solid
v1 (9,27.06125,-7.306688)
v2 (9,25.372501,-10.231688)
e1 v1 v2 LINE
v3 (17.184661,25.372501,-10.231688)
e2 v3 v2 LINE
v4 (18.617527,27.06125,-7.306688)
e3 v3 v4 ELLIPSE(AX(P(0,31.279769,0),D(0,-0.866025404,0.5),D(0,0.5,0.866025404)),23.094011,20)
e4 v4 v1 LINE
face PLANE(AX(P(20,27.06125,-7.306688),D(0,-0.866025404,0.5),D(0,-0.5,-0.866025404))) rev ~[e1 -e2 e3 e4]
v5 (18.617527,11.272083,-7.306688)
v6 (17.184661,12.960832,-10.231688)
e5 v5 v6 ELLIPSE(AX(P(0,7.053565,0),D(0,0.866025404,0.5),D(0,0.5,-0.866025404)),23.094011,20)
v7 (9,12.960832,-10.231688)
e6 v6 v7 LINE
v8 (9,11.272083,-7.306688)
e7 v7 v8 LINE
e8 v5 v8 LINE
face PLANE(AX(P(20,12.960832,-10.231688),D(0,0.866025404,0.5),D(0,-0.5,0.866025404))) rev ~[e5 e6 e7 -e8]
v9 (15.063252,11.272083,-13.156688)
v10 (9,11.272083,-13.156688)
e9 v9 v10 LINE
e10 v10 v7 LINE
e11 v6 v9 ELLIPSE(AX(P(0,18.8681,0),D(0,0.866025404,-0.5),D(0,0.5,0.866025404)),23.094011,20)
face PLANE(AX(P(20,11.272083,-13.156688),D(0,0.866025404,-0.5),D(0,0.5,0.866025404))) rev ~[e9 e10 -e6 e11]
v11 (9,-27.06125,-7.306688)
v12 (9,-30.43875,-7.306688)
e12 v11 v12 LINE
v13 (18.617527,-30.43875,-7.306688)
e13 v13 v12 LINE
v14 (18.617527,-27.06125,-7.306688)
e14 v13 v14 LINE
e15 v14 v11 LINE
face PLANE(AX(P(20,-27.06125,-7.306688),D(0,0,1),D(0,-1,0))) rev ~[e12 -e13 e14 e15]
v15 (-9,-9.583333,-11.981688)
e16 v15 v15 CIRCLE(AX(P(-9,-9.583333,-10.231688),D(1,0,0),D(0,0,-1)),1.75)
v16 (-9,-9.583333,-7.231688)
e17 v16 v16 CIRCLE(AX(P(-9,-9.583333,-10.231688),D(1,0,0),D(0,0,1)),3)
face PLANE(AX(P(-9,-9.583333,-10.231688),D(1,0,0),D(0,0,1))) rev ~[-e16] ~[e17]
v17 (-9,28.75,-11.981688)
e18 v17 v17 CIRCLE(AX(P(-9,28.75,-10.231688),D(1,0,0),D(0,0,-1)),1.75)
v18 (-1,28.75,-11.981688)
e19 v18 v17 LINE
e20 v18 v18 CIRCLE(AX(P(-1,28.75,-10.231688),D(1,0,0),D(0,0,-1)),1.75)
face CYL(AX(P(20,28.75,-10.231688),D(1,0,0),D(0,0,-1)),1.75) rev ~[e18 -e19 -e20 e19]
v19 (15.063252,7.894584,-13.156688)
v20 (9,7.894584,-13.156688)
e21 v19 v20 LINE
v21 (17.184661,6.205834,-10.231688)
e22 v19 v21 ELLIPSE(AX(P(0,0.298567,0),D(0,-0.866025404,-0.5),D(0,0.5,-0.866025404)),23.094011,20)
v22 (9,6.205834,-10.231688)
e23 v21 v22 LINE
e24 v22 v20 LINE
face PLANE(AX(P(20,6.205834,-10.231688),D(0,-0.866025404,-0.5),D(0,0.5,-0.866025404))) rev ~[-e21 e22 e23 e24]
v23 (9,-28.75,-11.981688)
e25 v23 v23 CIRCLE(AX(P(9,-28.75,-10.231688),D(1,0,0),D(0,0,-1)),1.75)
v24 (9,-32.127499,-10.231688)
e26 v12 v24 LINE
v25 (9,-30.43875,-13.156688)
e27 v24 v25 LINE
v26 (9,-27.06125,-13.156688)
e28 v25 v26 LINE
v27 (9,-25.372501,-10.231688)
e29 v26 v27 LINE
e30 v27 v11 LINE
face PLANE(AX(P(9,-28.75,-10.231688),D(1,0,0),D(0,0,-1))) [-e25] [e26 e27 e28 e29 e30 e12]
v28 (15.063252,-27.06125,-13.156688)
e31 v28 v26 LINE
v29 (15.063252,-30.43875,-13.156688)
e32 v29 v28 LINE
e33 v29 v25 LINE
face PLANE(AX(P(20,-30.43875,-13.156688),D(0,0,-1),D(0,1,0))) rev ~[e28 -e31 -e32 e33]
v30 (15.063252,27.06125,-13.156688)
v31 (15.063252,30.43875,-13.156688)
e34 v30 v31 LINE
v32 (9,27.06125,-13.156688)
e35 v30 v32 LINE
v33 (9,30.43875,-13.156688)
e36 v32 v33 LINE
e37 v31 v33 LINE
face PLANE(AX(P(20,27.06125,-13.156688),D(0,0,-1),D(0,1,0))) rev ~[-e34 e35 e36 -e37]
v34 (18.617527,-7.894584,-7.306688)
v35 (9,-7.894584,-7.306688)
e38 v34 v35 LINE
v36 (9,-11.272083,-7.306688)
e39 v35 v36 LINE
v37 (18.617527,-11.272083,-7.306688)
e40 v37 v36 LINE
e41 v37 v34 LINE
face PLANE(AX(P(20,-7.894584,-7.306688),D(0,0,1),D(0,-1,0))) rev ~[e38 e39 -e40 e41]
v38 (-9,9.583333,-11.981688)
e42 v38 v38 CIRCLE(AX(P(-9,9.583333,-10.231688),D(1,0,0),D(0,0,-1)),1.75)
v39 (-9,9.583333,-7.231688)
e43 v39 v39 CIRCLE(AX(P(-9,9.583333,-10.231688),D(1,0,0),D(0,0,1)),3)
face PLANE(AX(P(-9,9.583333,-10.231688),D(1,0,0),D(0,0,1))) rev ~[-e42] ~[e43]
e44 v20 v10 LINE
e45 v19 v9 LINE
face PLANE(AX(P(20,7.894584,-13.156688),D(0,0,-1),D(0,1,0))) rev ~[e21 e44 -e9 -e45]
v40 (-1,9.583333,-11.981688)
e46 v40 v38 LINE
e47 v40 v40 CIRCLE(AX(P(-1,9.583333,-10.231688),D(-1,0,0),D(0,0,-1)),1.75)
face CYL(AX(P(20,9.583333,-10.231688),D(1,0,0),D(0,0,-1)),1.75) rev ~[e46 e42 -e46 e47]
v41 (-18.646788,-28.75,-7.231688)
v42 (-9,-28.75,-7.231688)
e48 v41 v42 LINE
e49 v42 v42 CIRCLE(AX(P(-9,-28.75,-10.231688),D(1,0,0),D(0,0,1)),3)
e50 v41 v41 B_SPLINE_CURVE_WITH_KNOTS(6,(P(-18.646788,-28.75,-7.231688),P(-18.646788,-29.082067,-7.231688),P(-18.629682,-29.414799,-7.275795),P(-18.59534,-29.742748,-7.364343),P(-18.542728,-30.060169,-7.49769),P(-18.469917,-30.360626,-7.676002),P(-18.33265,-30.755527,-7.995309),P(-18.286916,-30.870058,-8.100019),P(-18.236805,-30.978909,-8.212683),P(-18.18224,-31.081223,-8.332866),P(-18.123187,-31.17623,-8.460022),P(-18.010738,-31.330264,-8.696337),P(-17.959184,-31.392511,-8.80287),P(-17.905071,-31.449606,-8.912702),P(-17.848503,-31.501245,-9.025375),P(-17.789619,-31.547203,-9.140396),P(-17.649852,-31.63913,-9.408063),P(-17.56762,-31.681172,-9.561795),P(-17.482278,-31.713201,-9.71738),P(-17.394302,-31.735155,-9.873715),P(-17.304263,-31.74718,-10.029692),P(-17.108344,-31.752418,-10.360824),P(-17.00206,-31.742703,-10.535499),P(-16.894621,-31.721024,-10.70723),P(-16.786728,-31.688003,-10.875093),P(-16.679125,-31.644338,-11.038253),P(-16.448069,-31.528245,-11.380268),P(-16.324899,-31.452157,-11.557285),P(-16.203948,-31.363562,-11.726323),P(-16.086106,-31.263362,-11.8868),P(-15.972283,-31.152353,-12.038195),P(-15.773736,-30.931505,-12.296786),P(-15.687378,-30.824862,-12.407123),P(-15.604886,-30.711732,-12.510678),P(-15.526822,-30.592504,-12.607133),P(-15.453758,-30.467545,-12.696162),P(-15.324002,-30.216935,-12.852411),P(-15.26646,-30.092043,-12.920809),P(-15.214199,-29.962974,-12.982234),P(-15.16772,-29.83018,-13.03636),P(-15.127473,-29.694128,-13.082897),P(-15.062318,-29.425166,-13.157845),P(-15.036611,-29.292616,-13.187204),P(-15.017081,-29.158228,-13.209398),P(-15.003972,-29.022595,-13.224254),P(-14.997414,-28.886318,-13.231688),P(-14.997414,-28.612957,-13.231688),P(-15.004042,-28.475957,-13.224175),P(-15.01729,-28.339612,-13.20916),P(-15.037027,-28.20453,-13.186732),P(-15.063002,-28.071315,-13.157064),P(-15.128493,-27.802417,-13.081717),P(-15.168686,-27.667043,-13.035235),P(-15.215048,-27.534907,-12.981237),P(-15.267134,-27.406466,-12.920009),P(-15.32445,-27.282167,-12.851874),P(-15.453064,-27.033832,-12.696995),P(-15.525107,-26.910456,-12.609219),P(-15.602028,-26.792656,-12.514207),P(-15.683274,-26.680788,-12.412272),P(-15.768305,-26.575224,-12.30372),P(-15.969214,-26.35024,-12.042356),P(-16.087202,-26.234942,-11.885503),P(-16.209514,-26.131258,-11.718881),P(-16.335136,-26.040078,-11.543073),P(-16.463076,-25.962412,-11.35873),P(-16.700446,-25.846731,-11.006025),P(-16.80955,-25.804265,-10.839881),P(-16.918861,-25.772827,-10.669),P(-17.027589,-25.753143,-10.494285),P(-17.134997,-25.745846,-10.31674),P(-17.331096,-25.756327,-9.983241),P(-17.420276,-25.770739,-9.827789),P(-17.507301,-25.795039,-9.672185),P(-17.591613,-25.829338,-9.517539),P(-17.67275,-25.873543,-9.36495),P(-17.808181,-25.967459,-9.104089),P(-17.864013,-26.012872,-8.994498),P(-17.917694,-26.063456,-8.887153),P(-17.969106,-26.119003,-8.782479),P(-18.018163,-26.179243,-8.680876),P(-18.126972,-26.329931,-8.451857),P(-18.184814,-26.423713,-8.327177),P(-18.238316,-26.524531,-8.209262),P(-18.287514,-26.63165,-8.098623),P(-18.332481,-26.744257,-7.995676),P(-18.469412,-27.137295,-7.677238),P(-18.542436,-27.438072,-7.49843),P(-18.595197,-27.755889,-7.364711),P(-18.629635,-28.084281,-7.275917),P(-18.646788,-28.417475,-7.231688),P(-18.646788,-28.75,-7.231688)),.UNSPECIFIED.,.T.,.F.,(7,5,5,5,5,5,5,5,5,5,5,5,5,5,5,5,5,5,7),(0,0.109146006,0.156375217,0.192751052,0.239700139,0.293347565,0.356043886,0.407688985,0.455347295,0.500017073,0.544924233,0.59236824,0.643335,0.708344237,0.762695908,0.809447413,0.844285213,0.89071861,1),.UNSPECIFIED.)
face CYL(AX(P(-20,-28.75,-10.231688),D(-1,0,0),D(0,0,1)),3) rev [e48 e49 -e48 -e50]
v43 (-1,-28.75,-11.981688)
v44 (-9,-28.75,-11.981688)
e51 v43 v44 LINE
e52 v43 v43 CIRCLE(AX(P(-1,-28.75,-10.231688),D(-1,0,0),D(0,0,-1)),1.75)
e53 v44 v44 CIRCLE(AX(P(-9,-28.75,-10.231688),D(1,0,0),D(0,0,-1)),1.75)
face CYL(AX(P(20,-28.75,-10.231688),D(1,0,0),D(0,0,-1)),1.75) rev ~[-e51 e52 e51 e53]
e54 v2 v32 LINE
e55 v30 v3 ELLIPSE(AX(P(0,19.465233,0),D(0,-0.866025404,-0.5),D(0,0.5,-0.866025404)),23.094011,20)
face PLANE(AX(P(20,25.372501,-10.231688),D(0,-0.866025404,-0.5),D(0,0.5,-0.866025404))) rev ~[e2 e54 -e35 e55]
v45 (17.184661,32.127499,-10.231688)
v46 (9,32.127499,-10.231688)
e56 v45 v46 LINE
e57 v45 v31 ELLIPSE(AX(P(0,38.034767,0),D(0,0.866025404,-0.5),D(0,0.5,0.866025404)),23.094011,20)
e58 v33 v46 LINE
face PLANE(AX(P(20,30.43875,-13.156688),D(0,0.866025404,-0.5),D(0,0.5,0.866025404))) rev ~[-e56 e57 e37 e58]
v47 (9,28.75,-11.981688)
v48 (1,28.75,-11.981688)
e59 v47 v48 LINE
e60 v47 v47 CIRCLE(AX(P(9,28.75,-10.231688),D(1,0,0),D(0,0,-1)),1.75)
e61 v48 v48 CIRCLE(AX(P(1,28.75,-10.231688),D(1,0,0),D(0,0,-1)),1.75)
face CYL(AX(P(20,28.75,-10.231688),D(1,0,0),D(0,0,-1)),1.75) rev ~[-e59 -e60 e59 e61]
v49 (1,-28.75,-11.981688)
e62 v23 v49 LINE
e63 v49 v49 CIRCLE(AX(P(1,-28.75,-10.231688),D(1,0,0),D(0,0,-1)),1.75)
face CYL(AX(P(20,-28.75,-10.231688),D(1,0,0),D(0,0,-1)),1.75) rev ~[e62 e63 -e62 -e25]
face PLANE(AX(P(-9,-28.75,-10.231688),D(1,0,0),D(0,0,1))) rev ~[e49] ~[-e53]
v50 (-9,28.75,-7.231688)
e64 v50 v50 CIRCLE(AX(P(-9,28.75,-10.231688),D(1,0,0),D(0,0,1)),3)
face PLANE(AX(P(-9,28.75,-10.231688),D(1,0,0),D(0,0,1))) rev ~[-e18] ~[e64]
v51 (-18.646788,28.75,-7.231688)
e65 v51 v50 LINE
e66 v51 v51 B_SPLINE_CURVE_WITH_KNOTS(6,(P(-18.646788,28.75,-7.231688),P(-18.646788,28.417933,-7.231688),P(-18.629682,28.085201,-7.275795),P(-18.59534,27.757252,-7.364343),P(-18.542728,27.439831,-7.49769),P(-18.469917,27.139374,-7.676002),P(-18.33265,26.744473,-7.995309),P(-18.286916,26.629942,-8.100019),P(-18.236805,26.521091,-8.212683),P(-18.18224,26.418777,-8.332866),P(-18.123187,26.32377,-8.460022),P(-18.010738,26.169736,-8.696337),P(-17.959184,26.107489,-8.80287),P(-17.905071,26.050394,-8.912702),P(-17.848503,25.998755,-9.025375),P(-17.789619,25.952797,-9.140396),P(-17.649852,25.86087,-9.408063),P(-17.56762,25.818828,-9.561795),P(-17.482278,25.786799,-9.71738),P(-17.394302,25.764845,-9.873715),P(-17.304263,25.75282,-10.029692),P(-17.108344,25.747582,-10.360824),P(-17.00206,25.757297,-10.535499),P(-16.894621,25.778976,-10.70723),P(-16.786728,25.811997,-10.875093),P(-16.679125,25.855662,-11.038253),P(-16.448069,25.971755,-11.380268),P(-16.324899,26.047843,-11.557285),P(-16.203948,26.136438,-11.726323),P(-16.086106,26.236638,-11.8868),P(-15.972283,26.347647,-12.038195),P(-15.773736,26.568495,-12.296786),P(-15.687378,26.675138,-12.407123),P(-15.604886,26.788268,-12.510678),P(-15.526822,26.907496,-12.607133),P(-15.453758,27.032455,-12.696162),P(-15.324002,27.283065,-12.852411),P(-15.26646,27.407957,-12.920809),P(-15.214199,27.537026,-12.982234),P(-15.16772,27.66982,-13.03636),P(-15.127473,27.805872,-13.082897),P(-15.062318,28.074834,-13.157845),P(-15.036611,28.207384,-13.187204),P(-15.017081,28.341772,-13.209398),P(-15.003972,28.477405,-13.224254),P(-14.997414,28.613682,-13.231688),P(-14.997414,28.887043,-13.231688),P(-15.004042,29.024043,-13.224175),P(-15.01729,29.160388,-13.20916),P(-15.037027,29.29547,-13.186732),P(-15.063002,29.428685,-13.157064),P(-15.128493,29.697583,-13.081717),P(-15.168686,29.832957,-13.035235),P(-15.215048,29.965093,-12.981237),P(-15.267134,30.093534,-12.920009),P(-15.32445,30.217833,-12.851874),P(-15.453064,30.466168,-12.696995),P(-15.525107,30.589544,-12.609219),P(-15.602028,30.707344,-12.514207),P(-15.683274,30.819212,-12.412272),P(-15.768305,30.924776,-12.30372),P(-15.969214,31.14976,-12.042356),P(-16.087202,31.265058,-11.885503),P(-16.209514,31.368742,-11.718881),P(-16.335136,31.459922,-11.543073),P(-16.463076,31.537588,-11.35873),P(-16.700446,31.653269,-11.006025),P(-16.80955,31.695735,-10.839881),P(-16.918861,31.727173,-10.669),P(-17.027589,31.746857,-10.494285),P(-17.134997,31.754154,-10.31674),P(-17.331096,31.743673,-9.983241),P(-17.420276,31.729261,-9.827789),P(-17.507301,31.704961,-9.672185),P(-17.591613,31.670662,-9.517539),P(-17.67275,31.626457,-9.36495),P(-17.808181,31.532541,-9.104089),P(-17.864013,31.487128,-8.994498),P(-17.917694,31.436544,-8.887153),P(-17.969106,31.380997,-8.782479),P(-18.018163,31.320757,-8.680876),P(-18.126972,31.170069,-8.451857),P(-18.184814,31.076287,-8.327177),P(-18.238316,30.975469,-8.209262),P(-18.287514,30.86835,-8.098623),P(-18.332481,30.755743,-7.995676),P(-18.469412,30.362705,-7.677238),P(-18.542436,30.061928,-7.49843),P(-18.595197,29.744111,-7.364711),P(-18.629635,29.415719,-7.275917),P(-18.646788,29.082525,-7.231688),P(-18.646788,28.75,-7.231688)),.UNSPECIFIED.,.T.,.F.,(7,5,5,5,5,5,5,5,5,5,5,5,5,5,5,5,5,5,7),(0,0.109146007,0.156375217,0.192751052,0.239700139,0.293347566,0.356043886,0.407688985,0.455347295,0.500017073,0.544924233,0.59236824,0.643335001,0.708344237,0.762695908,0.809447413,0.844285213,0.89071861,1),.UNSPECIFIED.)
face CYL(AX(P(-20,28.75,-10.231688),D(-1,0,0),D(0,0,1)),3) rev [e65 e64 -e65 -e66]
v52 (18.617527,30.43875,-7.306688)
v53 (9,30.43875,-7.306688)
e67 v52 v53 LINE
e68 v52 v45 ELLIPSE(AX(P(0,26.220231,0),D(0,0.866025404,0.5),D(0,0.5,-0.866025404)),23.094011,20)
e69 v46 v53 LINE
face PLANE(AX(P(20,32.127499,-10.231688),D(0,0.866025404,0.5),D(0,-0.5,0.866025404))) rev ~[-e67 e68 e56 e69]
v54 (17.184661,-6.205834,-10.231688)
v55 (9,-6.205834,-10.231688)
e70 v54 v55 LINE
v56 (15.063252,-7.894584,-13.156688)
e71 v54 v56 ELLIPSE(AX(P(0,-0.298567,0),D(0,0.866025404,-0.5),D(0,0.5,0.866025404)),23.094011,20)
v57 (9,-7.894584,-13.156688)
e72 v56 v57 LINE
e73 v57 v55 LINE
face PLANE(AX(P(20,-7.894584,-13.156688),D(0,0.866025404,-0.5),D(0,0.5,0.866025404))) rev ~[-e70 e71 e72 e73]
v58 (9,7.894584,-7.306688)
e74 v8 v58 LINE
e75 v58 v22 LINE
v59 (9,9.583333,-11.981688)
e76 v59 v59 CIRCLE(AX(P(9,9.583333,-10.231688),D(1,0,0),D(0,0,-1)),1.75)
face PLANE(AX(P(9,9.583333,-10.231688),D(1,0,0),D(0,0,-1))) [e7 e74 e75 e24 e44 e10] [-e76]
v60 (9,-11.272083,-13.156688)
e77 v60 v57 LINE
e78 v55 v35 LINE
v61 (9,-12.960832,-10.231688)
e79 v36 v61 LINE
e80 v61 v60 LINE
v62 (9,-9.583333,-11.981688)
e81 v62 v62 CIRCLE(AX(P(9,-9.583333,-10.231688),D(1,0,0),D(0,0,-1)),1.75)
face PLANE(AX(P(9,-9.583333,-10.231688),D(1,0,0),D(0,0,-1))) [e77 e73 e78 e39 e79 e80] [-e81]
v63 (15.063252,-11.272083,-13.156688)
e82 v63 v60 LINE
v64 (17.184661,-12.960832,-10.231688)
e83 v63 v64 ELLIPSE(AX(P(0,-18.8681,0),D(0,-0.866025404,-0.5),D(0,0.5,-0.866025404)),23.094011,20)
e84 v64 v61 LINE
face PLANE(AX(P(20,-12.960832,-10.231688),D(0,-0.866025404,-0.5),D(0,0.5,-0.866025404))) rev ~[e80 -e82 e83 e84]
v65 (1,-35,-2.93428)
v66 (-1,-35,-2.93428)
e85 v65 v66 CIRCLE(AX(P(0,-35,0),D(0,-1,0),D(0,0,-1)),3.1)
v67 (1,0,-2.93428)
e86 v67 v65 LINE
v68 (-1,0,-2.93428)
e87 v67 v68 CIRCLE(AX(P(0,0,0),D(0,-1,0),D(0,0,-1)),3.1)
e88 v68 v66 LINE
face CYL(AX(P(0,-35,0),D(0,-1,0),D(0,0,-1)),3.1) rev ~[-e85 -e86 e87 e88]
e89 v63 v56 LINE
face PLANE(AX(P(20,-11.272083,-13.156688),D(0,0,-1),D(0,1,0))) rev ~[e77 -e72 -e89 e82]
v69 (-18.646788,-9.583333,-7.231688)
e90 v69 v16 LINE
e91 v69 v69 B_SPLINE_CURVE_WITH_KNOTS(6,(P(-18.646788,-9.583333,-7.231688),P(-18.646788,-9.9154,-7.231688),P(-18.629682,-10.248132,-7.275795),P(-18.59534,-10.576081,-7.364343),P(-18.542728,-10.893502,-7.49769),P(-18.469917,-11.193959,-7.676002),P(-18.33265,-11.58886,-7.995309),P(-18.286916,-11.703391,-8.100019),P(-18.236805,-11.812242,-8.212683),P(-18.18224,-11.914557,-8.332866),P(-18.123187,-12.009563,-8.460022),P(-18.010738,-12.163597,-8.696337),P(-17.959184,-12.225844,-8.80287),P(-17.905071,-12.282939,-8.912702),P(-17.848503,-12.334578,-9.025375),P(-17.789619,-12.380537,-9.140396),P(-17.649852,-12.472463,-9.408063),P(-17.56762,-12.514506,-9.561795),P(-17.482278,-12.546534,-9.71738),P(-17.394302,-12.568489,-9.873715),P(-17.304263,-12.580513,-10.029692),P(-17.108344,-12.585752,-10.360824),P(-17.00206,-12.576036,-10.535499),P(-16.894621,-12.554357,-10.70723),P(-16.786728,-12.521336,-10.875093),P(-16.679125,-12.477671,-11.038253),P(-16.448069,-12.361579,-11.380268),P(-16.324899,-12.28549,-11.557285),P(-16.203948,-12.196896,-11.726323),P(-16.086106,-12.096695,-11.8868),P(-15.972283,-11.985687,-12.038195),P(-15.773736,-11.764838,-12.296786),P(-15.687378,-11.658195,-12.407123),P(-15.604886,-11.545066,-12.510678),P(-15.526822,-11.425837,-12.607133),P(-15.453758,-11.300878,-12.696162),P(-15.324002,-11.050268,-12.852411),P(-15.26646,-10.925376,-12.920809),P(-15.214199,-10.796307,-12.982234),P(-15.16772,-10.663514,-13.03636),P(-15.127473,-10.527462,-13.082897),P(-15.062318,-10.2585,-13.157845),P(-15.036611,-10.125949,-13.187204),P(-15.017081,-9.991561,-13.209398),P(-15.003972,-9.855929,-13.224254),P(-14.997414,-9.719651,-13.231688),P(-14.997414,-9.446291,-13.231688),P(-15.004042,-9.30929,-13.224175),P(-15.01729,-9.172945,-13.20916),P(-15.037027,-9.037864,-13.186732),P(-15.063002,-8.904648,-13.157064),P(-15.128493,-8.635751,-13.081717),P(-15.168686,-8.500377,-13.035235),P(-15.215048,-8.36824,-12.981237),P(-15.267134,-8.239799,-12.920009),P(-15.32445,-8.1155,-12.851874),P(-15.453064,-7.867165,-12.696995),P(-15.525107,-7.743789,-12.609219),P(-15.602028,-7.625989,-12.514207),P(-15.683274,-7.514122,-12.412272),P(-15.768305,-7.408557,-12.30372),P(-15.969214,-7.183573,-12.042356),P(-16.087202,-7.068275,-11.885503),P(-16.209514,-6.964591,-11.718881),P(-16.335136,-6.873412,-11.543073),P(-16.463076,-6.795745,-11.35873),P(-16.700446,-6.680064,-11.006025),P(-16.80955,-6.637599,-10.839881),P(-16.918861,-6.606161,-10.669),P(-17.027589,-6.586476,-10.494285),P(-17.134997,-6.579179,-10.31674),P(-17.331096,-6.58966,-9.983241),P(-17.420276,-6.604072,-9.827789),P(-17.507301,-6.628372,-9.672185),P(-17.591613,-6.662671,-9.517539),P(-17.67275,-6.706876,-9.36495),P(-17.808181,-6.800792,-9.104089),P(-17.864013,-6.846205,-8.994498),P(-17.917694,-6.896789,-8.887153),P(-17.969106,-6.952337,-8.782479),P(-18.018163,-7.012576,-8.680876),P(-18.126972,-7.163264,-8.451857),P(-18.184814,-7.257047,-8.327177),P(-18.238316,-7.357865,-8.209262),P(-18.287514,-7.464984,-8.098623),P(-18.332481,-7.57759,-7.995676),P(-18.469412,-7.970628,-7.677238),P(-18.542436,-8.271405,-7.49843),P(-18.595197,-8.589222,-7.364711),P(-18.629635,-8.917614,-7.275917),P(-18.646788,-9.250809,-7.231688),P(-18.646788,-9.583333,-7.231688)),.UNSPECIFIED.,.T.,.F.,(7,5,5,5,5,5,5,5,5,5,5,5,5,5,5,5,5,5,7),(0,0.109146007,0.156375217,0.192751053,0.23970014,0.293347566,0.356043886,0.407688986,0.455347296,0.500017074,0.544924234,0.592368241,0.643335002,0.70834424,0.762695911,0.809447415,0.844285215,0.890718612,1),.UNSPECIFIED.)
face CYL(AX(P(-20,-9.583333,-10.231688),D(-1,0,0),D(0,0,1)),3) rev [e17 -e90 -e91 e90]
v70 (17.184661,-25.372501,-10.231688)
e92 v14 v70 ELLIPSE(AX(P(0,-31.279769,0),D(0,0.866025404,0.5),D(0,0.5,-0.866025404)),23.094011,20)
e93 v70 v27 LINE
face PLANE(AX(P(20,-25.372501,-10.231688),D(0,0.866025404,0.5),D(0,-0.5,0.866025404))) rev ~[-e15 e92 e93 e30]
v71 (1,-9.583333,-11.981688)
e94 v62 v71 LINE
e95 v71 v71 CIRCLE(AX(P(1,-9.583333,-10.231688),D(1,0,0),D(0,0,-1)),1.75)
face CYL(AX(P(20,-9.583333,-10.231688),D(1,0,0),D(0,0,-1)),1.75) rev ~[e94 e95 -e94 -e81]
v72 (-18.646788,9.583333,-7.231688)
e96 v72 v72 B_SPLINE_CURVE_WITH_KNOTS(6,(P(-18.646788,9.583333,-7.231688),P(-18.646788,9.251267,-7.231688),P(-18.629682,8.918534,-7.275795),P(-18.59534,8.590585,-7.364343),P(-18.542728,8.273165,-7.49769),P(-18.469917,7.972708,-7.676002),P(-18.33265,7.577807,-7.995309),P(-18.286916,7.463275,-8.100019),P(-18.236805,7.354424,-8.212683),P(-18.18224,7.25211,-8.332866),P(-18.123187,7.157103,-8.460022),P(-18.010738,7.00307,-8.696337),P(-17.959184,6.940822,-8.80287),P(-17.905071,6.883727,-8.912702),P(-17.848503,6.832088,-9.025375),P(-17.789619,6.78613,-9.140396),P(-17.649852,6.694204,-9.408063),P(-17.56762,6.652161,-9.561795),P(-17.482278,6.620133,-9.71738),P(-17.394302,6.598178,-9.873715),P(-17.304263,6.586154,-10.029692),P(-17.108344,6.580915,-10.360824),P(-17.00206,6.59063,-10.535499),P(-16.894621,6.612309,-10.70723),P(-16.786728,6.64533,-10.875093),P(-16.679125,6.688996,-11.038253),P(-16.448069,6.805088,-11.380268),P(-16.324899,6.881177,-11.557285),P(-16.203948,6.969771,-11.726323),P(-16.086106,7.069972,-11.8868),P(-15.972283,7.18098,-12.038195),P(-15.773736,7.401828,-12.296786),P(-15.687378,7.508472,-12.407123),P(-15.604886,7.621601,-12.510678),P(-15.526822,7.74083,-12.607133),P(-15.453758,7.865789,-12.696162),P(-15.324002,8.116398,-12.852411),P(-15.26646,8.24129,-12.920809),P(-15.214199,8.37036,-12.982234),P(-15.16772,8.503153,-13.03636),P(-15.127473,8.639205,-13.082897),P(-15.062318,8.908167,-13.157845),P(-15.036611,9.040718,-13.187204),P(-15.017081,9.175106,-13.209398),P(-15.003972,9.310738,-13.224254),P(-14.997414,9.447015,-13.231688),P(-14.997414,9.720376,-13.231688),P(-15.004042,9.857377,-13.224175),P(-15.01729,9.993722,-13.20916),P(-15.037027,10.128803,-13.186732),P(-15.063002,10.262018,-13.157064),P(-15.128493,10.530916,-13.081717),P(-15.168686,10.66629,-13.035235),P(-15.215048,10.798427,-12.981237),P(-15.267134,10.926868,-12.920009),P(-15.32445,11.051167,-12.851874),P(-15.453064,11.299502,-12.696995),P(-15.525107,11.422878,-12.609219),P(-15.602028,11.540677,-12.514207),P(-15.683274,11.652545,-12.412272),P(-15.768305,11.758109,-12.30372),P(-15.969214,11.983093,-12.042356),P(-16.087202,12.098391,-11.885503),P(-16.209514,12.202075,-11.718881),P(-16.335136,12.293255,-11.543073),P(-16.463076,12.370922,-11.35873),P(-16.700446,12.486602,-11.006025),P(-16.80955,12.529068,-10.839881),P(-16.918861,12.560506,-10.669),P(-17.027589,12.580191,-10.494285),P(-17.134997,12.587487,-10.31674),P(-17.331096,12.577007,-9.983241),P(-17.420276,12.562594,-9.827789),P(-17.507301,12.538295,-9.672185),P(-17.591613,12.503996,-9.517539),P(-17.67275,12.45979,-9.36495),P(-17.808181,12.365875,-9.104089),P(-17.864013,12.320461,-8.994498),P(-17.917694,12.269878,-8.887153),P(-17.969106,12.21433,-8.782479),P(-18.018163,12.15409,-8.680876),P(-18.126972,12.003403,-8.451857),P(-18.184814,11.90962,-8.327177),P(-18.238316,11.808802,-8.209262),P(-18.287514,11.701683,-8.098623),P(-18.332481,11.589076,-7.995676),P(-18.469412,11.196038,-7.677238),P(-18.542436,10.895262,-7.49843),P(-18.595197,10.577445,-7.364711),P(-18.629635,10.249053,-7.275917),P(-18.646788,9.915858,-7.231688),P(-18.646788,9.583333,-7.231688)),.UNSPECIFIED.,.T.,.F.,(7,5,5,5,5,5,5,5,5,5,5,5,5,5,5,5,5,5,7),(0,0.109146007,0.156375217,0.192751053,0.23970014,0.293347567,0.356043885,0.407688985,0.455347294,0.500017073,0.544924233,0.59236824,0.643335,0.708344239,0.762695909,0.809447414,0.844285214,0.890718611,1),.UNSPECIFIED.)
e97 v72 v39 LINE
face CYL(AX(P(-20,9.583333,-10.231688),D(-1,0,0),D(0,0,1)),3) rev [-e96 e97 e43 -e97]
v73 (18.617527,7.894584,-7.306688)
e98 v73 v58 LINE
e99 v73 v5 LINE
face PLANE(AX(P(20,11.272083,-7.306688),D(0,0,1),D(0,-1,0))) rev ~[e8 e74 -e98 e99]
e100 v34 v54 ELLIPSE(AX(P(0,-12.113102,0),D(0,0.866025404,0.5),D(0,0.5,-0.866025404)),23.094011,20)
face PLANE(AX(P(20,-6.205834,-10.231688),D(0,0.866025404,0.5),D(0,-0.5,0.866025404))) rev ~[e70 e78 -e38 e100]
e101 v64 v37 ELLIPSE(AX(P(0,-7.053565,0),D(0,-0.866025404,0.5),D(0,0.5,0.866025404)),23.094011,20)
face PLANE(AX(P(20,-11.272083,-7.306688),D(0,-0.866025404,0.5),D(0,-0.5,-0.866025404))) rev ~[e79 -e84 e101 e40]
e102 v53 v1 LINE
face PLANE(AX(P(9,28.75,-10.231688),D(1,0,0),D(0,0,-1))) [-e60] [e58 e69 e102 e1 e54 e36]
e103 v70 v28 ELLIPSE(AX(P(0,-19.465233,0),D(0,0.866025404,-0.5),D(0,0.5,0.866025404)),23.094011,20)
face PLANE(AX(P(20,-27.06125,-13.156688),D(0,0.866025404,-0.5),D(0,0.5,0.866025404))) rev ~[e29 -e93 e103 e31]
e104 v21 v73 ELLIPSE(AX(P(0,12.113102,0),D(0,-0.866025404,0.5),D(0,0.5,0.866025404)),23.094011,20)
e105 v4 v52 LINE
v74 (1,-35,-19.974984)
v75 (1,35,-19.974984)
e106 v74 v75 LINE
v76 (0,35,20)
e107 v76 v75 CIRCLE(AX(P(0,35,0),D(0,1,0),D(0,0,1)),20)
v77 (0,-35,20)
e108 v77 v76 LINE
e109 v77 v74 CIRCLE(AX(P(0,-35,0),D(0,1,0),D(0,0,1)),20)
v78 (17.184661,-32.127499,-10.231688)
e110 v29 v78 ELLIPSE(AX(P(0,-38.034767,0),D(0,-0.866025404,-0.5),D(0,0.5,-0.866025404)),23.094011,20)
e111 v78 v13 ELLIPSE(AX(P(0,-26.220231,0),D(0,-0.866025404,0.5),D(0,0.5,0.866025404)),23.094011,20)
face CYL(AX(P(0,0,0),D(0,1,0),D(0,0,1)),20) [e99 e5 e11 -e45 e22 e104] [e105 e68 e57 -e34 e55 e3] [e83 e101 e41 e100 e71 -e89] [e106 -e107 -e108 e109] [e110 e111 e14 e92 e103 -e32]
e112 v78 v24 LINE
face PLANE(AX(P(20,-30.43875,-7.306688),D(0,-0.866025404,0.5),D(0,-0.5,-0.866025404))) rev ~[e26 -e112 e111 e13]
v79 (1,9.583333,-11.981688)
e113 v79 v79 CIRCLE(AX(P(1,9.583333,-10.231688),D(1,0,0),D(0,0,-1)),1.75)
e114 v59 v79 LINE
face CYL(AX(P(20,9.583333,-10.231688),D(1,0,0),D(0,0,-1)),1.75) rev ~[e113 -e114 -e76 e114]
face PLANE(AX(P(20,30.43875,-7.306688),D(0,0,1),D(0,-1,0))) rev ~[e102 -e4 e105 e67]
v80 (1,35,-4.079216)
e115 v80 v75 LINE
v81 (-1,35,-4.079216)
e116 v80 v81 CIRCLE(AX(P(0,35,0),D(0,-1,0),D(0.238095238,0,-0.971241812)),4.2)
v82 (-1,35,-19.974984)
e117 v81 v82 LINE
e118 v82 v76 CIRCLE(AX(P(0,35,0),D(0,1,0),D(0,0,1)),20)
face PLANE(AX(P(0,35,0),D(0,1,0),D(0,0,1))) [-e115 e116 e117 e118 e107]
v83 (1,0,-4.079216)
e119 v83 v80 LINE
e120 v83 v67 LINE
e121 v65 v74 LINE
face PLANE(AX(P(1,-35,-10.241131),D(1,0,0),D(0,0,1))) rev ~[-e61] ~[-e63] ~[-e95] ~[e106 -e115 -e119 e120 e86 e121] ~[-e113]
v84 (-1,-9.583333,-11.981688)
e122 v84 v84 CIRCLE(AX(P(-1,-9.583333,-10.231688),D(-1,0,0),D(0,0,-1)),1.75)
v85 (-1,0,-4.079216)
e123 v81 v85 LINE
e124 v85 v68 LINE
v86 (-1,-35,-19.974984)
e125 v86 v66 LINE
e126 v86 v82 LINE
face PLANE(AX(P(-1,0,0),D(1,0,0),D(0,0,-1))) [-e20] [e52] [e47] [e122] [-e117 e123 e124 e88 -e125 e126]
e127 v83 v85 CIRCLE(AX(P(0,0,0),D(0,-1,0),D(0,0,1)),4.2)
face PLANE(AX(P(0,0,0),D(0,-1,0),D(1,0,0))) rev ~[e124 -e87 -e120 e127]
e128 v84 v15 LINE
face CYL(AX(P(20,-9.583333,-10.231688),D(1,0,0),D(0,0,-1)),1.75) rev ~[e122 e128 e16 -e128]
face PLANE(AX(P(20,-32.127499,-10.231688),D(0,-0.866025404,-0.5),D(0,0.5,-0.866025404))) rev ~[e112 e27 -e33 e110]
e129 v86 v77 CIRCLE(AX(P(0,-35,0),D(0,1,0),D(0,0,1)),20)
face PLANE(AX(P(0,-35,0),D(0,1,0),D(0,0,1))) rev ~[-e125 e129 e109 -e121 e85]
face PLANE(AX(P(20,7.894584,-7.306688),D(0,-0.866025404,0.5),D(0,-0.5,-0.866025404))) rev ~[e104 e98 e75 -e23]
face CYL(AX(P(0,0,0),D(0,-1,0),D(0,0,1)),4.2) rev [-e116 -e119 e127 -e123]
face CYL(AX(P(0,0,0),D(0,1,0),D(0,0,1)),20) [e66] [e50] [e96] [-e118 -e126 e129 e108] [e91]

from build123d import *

# Parameters (mm, degrees)
SKETCH1_R           = 20
SKETCH1_R_2         = 4.2
BOSS_EXTRUDE1_DEPTH = 35
SKETCH2_W           = 2
SKETCH2_H           = 25
CUT_EXTRUDE1_DEPTH  = 35
SKETCH4_R           = 1.75
CUT_EXTRUDE2_DEPTH  = 40
CUT_EXTRUDE3_DEPTH  = 11
SKETCH6_R           = 3
CUT_EXTRUDE4_DEPTH  = 11
SKETCH7_R           = 4.35
SKETCH7_R_2         = 3.1
BOSS_EXTRUDE2_DEPTH = 35
SKETCH8_W           = 2
SKETCH8_H           = 8.930849086
CUT_EXTRUDE5_DEPTH  = 50


with BuildPart() as part:
    # Sketch1 → Boss-Extrude1 (new, symmetric)
    with BuildSketch(Plane(origin=(0, 0, 0), x_dir=(1, 0, 0), z_dir=(0, 1, 0))):
        with Locations(Location((0, 0, 0), (0, 0, 270))):
            Circle(SKETCH1_R)
        with Locations(Location((0, 0, 0), (0, 0, 270))):
            Circle(SKETCH1_R_2, mode=Mode.SUBTRACT)
    extrude(amount=BOSS_EXTRUDE1_DEPTH, both=True)

    # Sketch2 → Cut-Extrude1 (cut, symmetric)
    with BuildSketch(Plane(origin=(0, 0, 0), x_dir=(1, 0, 0), z_dir=(0, 1, 0))):
        with Locations((0, 12.5)):
            Rectangle(SKETCH2_W, SKETCH2_H)
    extrude(amount=CUT_EXTRUDE1_DEPTH, both=True, mode=Mode.SUBTRACT)

    # Sketch4 → Cut-Extrude2 (cut)
    with BuildSketch(Plane(origin=(20, 0, 0), x_dir=(0, 0, -1), z_dir=(1, 0, 0))):
        with Locations((10.231687805, 28.75)):
            Circle(SKETCH4_R)
        with Locations((10.231687805, 9.583333333)):
            Circle(SKETCH4_R)
        with Locations((10.231687805, -9.583333333)):
            Circle(SKETCH4_R)
        with Locations((10.231687805, -28.75)):
            Circle(SKETCH4_R)
    extrude(amount=-CUT_EXTRUDE2_DEPTH, mode=Mode.SUBTRACT)

    # Sketch5 → Cut-Extrude3 (cut)
    with BuildSketch(Plane(origin=(20, 0, 0), x_dir=(0, 0, -1), z_dir=(1, 0, 0))):
        Polygon((7.306687805, 7.894583798), (10.231687805, 6.20583426), (13.156687805, 7.894583798), (13.156687805, 11.272082872), (10.231687805, 12.96083241), (7.306687805, 11.272082872), align=None)
        Polygon((10.231687805, 32.127499075), (7.306687805, 30.438749537), (7.306687805, 27.061250463), (10.231687805, 25.372500925), (13.156687805, 27.061250463), (13.156687805, 30.438749537), align=None)
        Polygon((7.306687805, -11.272082868), (10.231687805, -12.960832405), (13.156687805, -11.272082868), (13.156687805, -7.894583793), (10.231687805, -6.205834255), (7.306687805, -7.894583793), align=None)
        Polygon((7.306687805, -30.438749533), (10.231687805, -32.12749907), (13.156687805, -30.438749533), (13.156687805, -27.061250458), (10.231687805, -25.37250092), (7.306687805, -27.061250458), align=None)
    extrude(amount=-CUT_EXTRUDE3_DEPTH, mode=Mode.SUBTRACT)

    # Sketch6 → Cut-Extrude4 (cut)
    with BuildSketch(Plane(origin=(-20, 0, 0), x_dir=(0, 0, -1), z_dir=(1, 0, 0))):
        with Locations(Location((10.231687805, 28.75, 0), (0, 0, 180))):
            Circle(SKETCH6_R)
        with Locations(Location((10.231687805, 9.583333333, 0), (0, 0, 180))):
            Circle(SKETCH6_R)
        with Locations(Location((10.231687805, -9.583333333, 0), (0, 0, 180))):
            Circle(SKETCH6_R)
        with Locations(Location((10.231687805, -28.75, 0), (0, 0, 180))):
            Circle(SKETCH6_R)
    extrude(amount=CUT_EXTRUDE4_DEPTH, mode=Mode.SUBTRACT)

    # Sketch7 → Boss-Extrude2 (add)
    with BuildSketch(Plane.XZ.offset(35)):
        Circle(SKETCH7_R)
        with Locations(Location((0, 0, 0), (0, 0, 270))):
            Circle(SKETCH7_R_2, mode=Mode.SUBTRACT)
    extrude(amount=-BOSS_EXTRUDE2_DEPTH)

    # Sketch8 → Cut-Extrude5 (cut)
    with BuildSketch(Plane.XZ.offset(35)):
        with Locations((0, -5.775706359)):
            Rectangle(SKETCH8_W, SKETCH8_H)
    extrude(amount=-CUT_EXTRUDE5_DEPTH, mode=Mode.SUBTRACT)


solid = part.part
